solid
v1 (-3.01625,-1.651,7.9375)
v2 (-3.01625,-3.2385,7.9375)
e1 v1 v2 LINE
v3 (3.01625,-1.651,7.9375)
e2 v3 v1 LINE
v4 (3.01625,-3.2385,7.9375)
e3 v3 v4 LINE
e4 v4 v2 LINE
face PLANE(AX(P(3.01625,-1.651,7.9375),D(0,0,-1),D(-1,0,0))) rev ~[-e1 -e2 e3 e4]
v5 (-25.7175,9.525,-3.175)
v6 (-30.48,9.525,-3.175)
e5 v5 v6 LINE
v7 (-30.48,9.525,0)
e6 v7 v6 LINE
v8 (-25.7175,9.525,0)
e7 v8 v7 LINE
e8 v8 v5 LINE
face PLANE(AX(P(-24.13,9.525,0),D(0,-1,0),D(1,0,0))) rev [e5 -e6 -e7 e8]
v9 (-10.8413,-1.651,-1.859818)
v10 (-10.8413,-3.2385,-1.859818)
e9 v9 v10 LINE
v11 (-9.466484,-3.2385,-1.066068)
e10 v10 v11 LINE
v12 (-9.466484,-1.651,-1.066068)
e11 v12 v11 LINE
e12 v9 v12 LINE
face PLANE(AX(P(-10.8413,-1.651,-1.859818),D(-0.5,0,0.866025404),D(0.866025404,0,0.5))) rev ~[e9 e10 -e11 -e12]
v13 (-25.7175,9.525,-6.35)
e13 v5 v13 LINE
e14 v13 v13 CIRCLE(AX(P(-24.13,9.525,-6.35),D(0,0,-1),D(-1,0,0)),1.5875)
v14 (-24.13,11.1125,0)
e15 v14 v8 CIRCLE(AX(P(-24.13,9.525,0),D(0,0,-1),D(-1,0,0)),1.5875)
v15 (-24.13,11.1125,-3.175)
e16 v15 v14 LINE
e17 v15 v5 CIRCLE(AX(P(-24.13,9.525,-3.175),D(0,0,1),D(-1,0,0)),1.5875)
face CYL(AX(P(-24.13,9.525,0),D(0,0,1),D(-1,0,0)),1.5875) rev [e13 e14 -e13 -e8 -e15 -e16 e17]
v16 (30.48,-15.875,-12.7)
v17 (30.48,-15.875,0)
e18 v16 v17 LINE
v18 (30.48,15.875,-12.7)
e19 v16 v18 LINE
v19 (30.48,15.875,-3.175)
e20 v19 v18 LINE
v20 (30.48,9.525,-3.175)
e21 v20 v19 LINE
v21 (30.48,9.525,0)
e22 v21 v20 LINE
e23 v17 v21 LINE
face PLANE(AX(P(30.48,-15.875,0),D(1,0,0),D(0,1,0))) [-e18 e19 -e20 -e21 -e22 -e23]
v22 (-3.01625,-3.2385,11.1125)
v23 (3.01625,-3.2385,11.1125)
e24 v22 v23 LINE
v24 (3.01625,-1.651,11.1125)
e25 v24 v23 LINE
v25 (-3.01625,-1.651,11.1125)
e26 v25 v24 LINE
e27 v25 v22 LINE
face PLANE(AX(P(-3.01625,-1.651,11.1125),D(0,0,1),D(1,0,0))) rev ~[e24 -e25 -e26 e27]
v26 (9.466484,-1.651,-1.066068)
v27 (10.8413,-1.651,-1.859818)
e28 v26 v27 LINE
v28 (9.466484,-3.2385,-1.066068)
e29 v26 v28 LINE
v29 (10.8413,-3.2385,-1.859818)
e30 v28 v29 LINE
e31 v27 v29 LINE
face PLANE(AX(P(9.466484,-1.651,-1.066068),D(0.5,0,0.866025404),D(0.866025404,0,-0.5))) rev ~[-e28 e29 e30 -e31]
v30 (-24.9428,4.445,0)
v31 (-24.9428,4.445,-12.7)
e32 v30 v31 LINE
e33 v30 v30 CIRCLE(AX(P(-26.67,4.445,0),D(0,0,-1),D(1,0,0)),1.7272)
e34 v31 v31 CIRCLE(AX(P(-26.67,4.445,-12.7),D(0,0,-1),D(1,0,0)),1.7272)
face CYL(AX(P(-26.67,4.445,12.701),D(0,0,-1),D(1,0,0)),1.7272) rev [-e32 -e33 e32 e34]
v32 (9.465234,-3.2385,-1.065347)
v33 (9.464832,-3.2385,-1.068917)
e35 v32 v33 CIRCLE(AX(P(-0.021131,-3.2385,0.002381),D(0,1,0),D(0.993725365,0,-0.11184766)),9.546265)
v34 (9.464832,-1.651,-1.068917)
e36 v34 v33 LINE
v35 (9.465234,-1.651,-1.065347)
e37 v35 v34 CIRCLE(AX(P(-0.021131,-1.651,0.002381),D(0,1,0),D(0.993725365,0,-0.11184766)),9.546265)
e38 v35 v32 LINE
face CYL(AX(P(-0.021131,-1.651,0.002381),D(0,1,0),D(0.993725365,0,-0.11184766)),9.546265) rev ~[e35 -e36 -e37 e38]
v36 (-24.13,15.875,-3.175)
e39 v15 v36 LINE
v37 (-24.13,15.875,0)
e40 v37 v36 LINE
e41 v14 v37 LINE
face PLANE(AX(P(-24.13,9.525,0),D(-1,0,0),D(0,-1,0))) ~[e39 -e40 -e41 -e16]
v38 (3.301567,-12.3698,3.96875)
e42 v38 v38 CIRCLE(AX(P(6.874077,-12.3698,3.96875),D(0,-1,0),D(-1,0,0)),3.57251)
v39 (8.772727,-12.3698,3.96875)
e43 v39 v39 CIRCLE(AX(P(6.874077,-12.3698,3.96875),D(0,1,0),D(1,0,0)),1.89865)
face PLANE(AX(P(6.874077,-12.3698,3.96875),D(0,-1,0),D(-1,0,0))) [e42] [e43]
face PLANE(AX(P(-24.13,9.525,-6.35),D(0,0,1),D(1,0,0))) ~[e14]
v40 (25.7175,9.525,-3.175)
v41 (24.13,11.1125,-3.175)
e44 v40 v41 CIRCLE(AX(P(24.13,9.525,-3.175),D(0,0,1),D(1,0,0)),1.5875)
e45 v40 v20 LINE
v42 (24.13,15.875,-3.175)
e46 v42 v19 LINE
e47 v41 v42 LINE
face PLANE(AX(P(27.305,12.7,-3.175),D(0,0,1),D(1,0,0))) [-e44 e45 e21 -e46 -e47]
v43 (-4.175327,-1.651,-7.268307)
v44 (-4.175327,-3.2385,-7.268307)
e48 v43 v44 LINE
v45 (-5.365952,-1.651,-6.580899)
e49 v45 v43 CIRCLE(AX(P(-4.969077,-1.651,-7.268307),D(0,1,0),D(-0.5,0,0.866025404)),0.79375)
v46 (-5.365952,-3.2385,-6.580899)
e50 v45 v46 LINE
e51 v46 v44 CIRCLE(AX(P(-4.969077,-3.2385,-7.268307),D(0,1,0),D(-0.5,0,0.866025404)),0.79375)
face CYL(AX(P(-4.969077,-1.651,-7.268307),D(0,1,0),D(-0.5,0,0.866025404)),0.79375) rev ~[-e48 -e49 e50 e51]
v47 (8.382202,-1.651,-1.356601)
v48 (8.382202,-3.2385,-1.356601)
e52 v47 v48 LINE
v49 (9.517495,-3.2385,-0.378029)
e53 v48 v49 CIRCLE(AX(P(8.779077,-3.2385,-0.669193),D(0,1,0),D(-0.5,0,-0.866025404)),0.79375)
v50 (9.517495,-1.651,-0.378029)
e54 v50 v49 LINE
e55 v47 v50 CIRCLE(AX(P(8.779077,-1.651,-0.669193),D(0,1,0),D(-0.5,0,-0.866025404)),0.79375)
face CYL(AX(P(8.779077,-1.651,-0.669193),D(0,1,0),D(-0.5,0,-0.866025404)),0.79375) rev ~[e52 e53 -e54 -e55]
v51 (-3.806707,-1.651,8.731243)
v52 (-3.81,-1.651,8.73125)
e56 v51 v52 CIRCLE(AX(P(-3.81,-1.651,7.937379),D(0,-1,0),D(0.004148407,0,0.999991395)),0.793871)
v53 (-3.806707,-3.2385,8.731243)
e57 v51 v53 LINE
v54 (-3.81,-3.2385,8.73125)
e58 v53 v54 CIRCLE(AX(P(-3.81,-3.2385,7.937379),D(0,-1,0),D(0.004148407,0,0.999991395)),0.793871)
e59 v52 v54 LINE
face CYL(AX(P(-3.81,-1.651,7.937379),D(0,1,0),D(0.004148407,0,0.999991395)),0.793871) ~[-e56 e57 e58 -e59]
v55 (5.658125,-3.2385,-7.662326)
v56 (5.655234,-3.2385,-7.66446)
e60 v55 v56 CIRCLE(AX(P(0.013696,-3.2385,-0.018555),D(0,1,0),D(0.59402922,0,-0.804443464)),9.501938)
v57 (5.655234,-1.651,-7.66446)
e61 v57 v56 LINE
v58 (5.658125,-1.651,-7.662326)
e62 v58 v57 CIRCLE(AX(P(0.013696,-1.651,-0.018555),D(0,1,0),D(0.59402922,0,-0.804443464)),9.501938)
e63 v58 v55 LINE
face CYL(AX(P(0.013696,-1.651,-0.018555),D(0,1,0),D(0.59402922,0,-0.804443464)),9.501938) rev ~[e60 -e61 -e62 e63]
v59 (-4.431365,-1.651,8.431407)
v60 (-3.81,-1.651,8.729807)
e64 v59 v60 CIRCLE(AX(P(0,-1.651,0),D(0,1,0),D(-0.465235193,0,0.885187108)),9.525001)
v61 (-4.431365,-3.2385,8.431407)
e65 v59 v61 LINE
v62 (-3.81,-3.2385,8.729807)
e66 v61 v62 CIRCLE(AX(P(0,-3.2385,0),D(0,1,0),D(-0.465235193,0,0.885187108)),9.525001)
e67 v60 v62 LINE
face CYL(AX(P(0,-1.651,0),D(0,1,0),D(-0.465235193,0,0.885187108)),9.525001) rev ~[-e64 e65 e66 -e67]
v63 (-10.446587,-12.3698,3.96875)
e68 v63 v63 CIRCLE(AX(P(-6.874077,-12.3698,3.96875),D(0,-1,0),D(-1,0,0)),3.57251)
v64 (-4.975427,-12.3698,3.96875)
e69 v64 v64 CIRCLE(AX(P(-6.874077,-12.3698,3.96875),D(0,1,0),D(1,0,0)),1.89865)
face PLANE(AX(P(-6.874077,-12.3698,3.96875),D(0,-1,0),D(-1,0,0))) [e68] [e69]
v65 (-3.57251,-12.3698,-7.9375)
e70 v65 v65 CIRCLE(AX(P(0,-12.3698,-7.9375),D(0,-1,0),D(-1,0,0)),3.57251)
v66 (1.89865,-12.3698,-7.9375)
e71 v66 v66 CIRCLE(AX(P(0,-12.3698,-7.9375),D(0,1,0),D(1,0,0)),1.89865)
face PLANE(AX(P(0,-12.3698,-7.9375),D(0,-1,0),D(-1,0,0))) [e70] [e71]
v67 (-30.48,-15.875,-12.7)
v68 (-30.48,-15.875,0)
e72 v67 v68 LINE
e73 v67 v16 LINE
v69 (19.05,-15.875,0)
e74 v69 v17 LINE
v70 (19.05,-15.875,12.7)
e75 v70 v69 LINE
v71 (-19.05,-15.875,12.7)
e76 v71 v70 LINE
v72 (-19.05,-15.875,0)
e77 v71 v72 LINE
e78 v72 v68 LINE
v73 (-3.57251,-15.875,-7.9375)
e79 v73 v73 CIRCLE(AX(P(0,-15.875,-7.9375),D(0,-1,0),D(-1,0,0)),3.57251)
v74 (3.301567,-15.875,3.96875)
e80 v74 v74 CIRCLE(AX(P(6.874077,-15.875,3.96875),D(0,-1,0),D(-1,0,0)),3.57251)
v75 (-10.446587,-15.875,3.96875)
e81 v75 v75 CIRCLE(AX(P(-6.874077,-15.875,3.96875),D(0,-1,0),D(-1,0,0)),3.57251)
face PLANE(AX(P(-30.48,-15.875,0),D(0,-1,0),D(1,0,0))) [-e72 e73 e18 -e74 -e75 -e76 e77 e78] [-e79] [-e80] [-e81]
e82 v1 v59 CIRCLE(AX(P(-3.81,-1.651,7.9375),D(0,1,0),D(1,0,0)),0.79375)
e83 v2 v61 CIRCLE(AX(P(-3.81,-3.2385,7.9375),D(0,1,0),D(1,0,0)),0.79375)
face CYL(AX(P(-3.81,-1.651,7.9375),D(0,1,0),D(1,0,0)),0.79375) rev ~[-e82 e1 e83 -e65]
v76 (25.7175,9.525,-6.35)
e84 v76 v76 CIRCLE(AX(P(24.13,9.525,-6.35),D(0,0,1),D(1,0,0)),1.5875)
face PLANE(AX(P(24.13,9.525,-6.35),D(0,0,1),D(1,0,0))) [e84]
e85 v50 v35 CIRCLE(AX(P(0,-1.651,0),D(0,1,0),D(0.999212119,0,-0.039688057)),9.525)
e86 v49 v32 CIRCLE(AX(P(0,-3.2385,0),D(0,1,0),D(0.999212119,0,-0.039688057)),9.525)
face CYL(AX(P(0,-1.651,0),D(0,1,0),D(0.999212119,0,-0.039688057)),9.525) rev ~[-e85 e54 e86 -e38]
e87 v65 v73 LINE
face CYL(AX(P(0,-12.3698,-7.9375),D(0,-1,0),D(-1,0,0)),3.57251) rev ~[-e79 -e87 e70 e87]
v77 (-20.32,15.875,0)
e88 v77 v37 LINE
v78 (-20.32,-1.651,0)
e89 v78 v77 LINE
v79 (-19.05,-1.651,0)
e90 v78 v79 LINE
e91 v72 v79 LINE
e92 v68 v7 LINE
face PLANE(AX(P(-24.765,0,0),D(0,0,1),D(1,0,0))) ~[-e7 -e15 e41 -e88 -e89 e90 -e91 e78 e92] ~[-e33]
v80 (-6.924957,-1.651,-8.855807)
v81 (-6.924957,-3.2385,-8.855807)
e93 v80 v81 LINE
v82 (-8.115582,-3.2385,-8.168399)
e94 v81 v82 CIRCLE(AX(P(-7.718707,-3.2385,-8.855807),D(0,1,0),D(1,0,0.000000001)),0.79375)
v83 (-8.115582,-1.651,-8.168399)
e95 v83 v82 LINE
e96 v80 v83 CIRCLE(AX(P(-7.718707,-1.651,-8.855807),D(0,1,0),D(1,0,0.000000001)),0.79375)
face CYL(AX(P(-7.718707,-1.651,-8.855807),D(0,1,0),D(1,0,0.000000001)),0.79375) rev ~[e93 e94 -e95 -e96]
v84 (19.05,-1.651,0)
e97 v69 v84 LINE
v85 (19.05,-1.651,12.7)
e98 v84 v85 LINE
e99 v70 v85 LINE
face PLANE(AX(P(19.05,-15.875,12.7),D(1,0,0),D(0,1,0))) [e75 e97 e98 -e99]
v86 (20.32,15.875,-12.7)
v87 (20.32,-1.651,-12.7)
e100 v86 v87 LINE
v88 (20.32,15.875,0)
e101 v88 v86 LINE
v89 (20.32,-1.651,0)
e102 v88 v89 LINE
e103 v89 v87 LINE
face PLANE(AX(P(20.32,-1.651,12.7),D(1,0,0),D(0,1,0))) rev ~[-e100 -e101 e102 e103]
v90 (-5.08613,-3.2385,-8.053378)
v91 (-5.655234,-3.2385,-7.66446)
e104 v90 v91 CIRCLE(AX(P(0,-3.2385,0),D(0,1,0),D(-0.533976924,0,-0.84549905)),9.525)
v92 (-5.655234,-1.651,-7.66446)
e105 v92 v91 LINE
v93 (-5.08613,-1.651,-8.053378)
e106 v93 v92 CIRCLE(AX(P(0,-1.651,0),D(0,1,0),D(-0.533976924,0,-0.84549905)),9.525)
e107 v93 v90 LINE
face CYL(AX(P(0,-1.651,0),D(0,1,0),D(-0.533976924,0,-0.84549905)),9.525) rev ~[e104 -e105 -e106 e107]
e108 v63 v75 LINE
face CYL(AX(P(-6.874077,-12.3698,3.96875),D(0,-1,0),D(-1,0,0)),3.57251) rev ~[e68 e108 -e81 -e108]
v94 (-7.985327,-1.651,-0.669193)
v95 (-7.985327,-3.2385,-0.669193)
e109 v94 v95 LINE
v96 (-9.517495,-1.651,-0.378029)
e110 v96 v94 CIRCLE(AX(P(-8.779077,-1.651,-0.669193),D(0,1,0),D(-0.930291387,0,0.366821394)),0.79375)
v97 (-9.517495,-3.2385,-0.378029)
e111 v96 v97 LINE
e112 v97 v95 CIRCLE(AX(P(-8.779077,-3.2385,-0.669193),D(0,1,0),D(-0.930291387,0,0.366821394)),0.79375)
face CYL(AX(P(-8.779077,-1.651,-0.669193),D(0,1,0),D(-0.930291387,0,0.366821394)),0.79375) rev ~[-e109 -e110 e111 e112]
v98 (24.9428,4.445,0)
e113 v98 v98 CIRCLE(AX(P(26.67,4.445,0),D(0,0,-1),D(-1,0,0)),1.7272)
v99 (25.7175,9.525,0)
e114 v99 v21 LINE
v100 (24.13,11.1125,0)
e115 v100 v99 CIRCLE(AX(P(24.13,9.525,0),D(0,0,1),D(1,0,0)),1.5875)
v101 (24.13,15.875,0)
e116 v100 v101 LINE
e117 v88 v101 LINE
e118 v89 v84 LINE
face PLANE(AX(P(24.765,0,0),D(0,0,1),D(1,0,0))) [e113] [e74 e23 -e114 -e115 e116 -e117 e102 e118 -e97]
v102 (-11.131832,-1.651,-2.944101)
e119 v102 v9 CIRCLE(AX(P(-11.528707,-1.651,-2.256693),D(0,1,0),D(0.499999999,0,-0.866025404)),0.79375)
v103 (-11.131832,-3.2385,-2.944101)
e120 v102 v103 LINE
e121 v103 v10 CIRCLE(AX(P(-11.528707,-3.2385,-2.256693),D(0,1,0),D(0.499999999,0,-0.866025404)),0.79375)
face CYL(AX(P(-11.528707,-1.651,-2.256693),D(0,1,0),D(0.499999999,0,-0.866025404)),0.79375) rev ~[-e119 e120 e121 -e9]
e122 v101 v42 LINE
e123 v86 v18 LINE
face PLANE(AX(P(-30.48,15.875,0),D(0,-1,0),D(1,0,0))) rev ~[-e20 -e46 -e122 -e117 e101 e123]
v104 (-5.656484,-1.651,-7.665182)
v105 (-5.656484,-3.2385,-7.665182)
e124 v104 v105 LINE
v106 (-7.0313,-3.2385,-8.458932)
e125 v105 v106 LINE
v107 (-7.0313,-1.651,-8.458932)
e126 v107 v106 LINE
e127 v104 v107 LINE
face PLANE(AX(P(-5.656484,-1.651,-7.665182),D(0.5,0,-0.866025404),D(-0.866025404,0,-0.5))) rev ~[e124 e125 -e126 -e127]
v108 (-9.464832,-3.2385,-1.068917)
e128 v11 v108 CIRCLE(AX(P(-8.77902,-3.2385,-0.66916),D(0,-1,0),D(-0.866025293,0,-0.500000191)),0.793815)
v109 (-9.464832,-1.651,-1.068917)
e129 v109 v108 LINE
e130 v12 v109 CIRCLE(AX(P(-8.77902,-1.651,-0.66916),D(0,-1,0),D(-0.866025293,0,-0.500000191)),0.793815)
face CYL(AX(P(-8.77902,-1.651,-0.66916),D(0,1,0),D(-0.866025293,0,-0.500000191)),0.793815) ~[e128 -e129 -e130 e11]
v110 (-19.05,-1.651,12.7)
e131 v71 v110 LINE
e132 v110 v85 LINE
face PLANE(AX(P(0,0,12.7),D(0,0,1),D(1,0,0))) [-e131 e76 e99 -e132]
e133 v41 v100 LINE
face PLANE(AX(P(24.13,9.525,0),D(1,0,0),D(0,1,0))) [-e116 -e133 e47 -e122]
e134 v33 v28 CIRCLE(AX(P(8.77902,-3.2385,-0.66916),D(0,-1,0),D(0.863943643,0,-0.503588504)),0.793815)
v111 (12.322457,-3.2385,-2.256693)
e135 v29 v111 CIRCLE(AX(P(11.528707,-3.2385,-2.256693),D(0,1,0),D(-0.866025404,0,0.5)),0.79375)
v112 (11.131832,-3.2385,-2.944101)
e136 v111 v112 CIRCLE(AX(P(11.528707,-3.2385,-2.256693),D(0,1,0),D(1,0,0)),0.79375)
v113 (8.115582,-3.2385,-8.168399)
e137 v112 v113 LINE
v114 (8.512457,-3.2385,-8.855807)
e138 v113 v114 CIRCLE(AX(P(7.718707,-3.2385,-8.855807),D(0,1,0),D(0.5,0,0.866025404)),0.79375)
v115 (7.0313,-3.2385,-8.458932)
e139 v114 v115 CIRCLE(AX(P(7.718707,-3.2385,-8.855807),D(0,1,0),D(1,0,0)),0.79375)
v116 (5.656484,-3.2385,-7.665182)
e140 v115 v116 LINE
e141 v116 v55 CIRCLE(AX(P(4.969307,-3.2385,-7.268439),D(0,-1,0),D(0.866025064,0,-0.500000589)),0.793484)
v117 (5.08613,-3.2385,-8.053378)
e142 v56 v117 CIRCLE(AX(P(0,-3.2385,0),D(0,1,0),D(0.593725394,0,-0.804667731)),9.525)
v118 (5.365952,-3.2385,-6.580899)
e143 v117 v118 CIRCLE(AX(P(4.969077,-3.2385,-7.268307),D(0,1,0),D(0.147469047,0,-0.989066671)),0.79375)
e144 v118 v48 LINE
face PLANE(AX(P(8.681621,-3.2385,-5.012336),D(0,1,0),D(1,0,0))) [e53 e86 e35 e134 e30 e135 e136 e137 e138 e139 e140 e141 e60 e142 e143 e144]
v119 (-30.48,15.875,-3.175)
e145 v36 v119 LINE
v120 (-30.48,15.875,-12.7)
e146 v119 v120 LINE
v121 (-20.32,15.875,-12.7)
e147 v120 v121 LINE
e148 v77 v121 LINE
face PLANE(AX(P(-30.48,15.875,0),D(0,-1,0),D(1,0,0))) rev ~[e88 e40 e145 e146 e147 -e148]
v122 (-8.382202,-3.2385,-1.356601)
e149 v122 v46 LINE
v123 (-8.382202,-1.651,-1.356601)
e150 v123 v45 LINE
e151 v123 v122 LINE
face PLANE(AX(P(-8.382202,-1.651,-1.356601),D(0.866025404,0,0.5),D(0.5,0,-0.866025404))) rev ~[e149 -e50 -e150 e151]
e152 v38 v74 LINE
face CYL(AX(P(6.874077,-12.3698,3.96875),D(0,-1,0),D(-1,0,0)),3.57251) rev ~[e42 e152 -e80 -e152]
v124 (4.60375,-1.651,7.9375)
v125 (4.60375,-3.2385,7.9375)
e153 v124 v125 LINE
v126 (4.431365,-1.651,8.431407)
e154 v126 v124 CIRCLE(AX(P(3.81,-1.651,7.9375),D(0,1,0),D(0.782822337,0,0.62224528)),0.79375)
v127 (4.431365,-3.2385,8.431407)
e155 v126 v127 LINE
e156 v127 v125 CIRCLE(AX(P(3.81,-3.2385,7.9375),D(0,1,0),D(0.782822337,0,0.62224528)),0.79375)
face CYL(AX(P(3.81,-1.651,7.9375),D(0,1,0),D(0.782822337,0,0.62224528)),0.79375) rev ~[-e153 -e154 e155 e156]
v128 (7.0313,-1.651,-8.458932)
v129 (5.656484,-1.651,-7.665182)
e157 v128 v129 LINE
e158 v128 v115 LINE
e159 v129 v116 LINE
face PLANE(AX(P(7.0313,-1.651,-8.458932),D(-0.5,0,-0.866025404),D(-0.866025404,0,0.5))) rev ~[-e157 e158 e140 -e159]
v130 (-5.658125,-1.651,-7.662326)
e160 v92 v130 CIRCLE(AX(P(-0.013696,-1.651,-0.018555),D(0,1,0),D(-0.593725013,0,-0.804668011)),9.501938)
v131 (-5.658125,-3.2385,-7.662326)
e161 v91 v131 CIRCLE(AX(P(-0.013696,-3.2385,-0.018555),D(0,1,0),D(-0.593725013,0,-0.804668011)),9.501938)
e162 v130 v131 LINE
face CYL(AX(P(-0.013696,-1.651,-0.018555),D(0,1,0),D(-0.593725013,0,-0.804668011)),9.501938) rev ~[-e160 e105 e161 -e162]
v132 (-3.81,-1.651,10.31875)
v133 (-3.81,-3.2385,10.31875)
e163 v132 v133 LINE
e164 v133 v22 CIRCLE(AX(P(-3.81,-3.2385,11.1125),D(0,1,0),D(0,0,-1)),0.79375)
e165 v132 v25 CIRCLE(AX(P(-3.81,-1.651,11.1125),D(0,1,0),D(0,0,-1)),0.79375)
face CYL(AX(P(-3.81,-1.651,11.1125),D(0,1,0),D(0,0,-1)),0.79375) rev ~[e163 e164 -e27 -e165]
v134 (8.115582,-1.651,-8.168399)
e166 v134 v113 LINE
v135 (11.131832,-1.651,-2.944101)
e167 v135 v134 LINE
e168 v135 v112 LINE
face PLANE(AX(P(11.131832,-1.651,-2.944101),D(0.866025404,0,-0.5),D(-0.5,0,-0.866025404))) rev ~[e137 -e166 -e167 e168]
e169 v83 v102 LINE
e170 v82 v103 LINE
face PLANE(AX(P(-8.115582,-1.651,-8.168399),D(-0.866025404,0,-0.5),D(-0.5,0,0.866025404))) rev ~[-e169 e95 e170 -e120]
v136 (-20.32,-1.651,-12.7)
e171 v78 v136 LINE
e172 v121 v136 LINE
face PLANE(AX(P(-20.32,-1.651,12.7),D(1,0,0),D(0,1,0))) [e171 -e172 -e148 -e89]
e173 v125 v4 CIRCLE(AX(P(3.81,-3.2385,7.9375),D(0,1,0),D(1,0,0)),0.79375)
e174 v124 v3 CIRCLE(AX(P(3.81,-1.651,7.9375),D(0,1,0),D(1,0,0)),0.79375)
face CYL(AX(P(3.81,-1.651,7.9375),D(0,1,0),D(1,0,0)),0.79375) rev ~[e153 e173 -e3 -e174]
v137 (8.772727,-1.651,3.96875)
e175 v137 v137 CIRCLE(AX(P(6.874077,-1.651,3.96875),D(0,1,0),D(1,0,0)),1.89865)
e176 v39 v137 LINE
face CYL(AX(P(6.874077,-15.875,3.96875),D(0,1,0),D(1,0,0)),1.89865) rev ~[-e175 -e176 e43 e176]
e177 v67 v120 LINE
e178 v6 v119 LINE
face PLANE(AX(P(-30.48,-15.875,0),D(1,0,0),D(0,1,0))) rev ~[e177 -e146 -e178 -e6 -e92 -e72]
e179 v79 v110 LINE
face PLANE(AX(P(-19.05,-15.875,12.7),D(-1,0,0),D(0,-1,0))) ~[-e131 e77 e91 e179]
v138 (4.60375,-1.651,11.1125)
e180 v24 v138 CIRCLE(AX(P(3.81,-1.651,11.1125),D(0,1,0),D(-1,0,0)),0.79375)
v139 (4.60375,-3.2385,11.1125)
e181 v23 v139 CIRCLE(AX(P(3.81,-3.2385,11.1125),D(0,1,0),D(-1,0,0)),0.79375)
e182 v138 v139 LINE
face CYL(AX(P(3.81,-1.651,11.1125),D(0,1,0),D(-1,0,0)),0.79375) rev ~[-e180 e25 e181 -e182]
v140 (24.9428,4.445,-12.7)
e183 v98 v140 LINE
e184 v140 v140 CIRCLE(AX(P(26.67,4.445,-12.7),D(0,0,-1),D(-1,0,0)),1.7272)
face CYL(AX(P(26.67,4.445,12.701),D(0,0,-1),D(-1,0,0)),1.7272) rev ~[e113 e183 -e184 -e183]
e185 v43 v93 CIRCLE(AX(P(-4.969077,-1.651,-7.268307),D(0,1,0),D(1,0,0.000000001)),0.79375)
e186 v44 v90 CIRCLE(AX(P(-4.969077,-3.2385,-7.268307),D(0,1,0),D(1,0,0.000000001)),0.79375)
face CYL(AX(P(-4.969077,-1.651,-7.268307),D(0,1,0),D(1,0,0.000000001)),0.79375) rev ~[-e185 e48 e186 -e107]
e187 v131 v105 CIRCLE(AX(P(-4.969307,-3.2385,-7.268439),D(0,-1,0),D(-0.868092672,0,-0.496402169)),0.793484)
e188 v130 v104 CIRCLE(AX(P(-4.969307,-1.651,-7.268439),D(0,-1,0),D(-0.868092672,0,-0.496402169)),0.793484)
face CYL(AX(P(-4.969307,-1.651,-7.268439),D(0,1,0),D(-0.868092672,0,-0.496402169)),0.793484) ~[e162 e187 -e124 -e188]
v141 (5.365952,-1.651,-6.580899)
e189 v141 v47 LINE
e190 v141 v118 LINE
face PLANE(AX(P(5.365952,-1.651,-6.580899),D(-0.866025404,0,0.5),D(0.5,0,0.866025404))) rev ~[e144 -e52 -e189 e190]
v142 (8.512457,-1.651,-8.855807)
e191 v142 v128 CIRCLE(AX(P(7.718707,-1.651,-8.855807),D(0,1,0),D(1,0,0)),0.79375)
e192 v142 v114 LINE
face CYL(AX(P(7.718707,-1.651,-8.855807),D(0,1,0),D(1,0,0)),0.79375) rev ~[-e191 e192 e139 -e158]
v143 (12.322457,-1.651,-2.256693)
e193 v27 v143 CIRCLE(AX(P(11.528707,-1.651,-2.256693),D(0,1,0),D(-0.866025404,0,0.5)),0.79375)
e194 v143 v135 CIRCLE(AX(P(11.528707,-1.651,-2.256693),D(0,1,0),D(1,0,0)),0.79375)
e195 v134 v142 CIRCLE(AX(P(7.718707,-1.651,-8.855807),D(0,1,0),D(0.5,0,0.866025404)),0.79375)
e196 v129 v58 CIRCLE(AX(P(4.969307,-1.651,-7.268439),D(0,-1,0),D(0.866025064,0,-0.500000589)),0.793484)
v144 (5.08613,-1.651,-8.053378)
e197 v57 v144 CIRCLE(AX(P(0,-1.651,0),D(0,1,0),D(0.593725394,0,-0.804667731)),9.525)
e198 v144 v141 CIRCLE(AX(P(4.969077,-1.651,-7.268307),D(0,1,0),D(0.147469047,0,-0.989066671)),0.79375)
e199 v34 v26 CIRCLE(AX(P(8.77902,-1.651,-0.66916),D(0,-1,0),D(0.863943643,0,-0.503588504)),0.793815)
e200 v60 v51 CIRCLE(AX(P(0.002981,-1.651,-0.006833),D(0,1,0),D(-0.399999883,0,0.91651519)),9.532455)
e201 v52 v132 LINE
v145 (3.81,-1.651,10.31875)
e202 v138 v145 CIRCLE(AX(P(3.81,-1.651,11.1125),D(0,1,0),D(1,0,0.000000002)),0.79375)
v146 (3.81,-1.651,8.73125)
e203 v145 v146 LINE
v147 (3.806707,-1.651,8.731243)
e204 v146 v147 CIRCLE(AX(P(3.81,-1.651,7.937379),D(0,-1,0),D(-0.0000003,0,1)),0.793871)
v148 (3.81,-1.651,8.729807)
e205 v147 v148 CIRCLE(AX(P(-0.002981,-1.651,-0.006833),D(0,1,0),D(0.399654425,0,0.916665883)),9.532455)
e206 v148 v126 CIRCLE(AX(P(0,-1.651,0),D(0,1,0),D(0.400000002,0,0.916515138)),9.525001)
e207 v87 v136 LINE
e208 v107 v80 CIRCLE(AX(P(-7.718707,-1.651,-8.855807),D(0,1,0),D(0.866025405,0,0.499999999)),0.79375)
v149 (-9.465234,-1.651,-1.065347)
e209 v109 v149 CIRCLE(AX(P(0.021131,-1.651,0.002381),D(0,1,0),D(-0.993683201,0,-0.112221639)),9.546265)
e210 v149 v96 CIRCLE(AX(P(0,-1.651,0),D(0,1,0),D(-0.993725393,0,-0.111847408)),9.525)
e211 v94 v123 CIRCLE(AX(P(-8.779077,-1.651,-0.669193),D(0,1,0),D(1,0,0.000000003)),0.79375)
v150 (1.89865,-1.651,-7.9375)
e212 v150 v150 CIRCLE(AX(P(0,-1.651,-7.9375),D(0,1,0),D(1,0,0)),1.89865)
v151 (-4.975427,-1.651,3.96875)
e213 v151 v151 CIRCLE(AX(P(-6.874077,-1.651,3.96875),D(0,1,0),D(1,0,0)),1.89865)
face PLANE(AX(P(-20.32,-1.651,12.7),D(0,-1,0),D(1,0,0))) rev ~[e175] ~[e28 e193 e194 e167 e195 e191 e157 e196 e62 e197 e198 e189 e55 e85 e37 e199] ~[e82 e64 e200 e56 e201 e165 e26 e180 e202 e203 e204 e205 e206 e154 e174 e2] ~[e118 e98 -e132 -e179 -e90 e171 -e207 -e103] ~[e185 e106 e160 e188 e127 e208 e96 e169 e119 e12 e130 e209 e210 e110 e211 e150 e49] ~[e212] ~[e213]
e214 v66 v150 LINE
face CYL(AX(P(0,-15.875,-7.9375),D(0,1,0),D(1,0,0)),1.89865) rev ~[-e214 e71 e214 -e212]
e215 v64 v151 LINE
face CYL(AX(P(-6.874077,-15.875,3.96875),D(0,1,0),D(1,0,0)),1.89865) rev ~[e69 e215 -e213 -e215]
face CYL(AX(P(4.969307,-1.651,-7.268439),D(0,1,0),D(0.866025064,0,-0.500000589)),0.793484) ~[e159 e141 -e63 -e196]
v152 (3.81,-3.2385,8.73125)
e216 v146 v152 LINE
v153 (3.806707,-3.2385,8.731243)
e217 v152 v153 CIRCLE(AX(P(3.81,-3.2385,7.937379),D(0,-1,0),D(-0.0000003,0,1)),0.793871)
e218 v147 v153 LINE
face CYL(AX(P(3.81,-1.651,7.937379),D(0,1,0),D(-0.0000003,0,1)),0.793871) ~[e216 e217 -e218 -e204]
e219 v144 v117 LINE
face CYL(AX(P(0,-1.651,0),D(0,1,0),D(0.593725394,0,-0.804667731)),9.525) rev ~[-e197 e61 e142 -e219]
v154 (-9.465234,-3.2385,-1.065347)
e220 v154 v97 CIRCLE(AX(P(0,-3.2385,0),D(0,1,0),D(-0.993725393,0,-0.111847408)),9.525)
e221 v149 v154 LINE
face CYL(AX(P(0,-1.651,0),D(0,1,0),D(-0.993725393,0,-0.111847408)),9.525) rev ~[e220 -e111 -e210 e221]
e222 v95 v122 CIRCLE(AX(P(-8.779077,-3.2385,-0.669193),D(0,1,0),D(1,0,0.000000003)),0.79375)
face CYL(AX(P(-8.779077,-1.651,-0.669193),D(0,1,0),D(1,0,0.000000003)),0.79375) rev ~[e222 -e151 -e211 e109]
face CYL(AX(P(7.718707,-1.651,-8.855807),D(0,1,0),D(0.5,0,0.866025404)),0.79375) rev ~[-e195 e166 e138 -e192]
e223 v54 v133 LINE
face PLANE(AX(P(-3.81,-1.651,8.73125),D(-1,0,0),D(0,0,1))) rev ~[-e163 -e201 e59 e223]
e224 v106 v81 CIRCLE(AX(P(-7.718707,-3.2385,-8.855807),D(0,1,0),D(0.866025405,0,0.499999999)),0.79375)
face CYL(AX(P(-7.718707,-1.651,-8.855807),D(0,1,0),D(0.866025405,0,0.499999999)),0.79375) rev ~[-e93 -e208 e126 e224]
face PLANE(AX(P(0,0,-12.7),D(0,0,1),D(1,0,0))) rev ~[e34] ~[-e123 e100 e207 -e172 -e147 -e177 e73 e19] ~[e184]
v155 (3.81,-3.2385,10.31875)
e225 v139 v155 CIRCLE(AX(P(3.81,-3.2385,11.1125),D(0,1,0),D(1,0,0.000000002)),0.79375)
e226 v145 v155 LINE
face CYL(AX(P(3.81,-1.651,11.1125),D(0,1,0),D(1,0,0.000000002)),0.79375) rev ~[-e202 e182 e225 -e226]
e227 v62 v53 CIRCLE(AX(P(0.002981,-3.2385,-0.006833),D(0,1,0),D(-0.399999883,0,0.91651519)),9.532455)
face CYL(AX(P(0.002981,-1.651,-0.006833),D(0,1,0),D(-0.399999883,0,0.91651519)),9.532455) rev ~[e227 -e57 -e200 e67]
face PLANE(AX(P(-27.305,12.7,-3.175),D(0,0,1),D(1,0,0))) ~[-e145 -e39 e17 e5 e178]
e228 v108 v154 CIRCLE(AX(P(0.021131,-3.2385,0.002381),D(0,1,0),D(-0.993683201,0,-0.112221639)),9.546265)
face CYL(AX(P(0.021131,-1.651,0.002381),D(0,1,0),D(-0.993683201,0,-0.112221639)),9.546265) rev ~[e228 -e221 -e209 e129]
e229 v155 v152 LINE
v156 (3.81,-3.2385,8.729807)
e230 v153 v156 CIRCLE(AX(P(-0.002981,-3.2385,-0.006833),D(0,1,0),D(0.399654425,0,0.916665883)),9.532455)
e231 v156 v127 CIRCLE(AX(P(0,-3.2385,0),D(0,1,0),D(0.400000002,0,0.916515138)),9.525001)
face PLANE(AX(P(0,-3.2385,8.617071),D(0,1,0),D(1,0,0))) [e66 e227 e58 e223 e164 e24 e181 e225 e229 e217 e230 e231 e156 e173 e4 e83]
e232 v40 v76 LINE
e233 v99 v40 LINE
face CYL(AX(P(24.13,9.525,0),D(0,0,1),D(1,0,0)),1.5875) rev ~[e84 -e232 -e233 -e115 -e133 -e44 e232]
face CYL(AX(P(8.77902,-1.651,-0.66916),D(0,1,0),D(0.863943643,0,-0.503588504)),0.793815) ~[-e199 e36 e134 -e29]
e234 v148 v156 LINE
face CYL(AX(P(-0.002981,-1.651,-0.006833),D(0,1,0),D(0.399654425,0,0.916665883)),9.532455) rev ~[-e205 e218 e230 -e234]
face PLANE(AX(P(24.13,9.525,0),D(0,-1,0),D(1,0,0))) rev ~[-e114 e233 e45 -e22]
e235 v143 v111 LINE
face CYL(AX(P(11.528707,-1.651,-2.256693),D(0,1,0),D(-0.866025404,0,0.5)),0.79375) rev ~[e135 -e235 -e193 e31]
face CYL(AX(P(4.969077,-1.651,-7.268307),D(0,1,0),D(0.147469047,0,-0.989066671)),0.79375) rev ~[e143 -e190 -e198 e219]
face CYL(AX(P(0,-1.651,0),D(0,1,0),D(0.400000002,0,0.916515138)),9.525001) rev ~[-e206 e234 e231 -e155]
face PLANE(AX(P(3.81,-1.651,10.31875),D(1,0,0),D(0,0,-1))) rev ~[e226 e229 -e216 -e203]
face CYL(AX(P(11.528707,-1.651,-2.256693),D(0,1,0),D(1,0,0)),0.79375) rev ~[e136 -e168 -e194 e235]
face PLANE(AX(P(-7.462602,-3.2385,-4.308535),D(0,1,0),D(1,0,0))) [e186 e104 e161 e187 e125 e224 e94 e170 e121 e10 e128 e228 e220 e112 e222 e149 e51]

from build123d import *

# Parameters (mm, degrees)
SKETCH1_W                                      = 60.96
SKETCH1_H                                      = 31.75
BOSS_EXTRUDE1_DEPTH                            = 12.7
CUT_EXTRUDE2_REACH                             = 27.4
SKETCH4_W                                      = 40.64
SKETCH4_H                                      = 17.526
SKETCH5_W                                      = 11.43
SKETCH5_H                                      = 31.75
CUT_EXTRUDE3_DEPTH                             = 12.7
SKETCH6_W                                      = 6.35
SKETCH6_H                                      = 6.35
CUT_EXTRUDE4_DEPTH                             = 3.175
SKETCH7_R                                      = 1.5875
CUT_EXTRUDE5_DEPTH                             = 6.35
F_8_32_TAPPED_HOLE1_D                          = 3.4544
F_8_32_TAPPED_HOLE1_DEPTH                      = 12.701
CUT_EXTRUDE7_DEPTH                             = 1.5875
CBORE_FOR_6_SOCKET_HEAD_CAP_SCREW1_D           = 3.7973
CBORE_FOR_6_SOCKET_HEAD_CAP_SCREW1_CBORE_D     = 7.14502
CBORE_FOR_6_SOCKET_HEAD_CAP_SCREW1_CBORE_DEPTH = 3.5052


with BuildPart() as part:
    # Sketch1 → Boss-Extrude1 (new body, symmetric)
    with BuildSketch(Plane.XY):
        Rectangle(SKETCH1_W, SKETCH1_H)
    extrude(amount=BOSS_EXTRUDE1_DEPTH, both=True)

    # Sketch4 → Cut-Extrude2 (cut, up to next)
    with BuildSketch(Plane.XY.offset(12.7), mode=Mode.PRIVATE) as cut_extrude2_sk1:
        with Locations((0, 7.112)):
            Rectangle(SKETCH4_W, SKETCH4_H)
    cut_extrude2_tool1 = extrude(cut_extrude2_sk1.sketch, amount=-CUT_EXTRUDE2_REACH, mode=Mode.PRIVATE) & part.part
    add(cut_extrude2_tool1.solids().sort_by_distance((0, 7.112, 12.7))[0], mode=Mode.SUBTRACT)

    # Sketch5 → Cut-Extrude3 (cut)
    with BuildSketch(Plane.XY.offset(12.7)):
        with Locations((24.765, 0)):
            Rectangle(SKETCH5_W, SKETCH5_H)
    cut_extrude3 = extrude(amount=-CUT_EXTRUDE3_DEPTH, mode=Mode.SUBTRACT)

    # Mirror2: Cut-Extrude3 across plane
    add(cut_extrude3.mirror(Plane(origin=(0, 0, 0), x_dir=(0, 0, 1), z_dir=(1, 0, 0))), mode=Mode.SUBTRACT)

    # Sketch6 → Cut-Extrude4 (cut)
    with BuildSketch(Plane.XY):
        with Locations((27.305, 12.7)):
            Rectangle(SKETCH6_W, SKETCH6_H)
    cut_extrude4 = extrude(amount=-CUT_EXTRUDE4_DEPTH, mode=Mode.SUBTRACT)

    # Sketch7 → Cut-Extrude5 (cut)
    with BuildSketch(Plane.XY):
        with Locations((24.13, 9.525)):
            Circle(SKETCH7_R)
    cut_extrude5 = extrude(amount=-CUT_EXTRUDE5_DEPTH, mode=Mode.SUBTRACT)

    # #8-32 Tapped Hole1
    with Locations(Plane.XY):
        with Locations((26.67, 4.445)):
            f_8_32_tapped_hole1 = Hole(F_8_32_TAPPED_HOLE1_D / 2, depth=F_8_32_TAPPED_HOLE1_DEPTH)

    # Mirror3: Cut-Extrude4, Cut-Extrude5, #8-32 Tapped Hole1 across plane
    add(cut_extrude4.mirror(Plane(origin=(0, 0, 0), x_dir=(0, 0, 1), z_dir=(1, 0, 0))), mode=Mode.SUBTRACT)
    add(cut_extrude5.mirror(Plane(origin=(0, 0, 0), x_dir=(0, 0, 1), z_dir=(1, 0, 0))), mode=Mode.SUBTRACT)
    add(f_8_32_tapped_hole1.mirror(Plane(origin=(0, 0, 0), x_dir=(0, 0, 1), z_dir=(1, 0, 0))), mode=Mode.SUBTRACT)

    # Sketch13 → Cut-Extrude7 (cut)
    with BuildSketch(Plane(origin=(0, -1.651, 0), x_dir=(1, 0, 0), z_dir=(0, 1, 0))):
        with BuildLine():
            ThreePointArc((-3.01625, -7.9375), (-3.247570925, -8.497600525), (-3.80670694, -8.731243169))
            ThreePointArc((-3.80670694, -8.731243169), (0, -9.525), (3.80670694, -8.731243169))
            ThreePointArc((3.80670694, -8.731243169), (3.247570925, -8.497600525), (3.01625, -7.9375))
            Line((3.01625, -7.9375), (-3.01625, -7.9375))
        make_face()
        with BuildLine():
            ThreePointArc((-3.81, -10.31875), (-3.248733992, -10.551233992), (-3.01625, -11.1125))
            Line((-3.01625, -11.1125), (3.01625, -11.1125))
            ThreePointArc((3.01625, -11.1125), (3.248733992, -10.551233992), (3.81, -10.31875))
            Line((3.81, -10.31875), (3.81, -8.73125))
            ThreePointArc((3.81, -8.73125), (3.808353466, -8.731248292), (3.80670694, -8.731243169))
            ThreePointArc((3.80670694, -8.731243169), (0, -9.525), (-3.80670694, -8.731243169))
            ThreePointArc((-3.80670694, -8.731243169), (-3.808353466, -8.731248292), (-3.81, -8.73125))
            Line((-3.81, -8.73125), (-3.81, -10.31875))
        make_face()
        with BuildLine():
            ThreePointArc((-4.431365232, -8.431407189), (-4.123382809, -8.586229627), (-3.81, -8.729806699))
            Line((-3.81, -8.729806699), (-3.81, -7.9375))
            Line((-3.81, -7.9375), (-3.01625, -7.9375))
            ThreePointArc((-3.01625, -7.9375), (-4.071563004, -7.188084322), (-4.431365232, -8.431407189))
        make_face()
        with BuildLine():
            Line((-3.81, -7.9375), (-3.81, -8.729806699))
            ThreePointArc((-3.81, -8.729806699), (-3.808353538, -8.730525089), (-3.80670694, -8.731243169))
            ThreePointArc((-3.80670694, -8.731243169), (-3.247570925, -8.497600525), (-3.01625, -7.9375))
            Line((-3.01625, -7.9375), (-3.81, -7.9375))
        make_face()
        with BuildLine():
            ThreePointArc((-4.431365232, -8.431407189), (-4.123382809, -8.586229627), (-3.81, -8.729806699))
            Line((-3.81, -8.729806699), (-3.81, -7.9375))
            Line((-3.81, -7.9375), (-3.01625, -7.9375))
            ThreePointArc((-3.01625, -7.9375), (-4.071563004, -7.188084322), (-4.431365232, -8.431407189))
        make_face()
        with BuildLine():
            Line((-3.81, -7.9375), (-3.81, -8.729806699))
            ThreePointArc((-3.81, -8.729806699), (-3.808353538, -8.730525089), (-3.80670694, -8.731243169))
            ThreePointArc((-3.80670694, -8.731243169), (-3.247570925, -8.497600525), (-3.01625, -7.9375))
            Line((-3.01625, -7.9375), (-3.81, -7.9375))
        make_face()
        with BuildLine():
            Line((-3.81, -10.31875), (-3.81, -11.1125))
            Line((-3.81, -11.1125), (-3.01625, -11.1125))
            ThreePointArc((-3.01625, -11.1125), (-3.248733992, -10.551233992), (-3.81, -10.31875))
        make_face()
        with BuildLine():
            Line((-3.01625, -11.1125), (-3.81, -11.1125))
            Line((-3.81, -11.1125), (-3.81, -10.31875))
            ThreePointArc((-3.81, -10.31875), (-4.371266008, -11.673766008), (-3.01625, -11.1125))
        make_face()
        with BuildLine():
            Line((-3.81, -10.31875), (-3.81, -11.1125))
            Line((-3.81, -11.1125), (-3.01625, -11.1125))
            ThreePointArc((-3.01625, -11.1125), (-3.248733992, -10.551233992), (-3.81, -10.31875))
        make_face()
        with BuildLine():
            Line((-3.01625, -11.1125), (-3.81, -11.1125))
            Line((-3.81, -11.1125), (-3.81, -10.31875))
            ThreePointArc((-3.81, -10.31875), (-4.371266008, -11.673766008), (-3.01625, -11.1125))
        make_face()
        with BuildLine():
            ThreePointArc((3.81, -10.31875), (3.248733992, -10.551233992), (3.01625, -11.1125))
            Line((3.01625, -11.1125), (3.81, -11.1125))
            Line((3.81, -11.1125), (3.81, -10.31875))
        make_face()
        with BuildLine():
            Line((3.81, -11.1125), (3.01625, -11.1125))
            ThreePointArc((3.01625, -11.1125), (3.81, -11.90625), (4.60375, -11.1125))
            ThreePointArc((4.60375, -11.1125), (4.371266008, -10.551233992), (3.81, -10.31875))
            Line((3.81, -10.31875), (3.81, -11.1125))
        make_face()
        with BuildLine():
            ThreePointArc((3.81, -10.31875), (3.248733992, -10.551233992), (3.01625, -11.1125))
            Line((3.01625, -11.1125), (3.81, -11.1125))
            Line((3.81, -11.1125), (3.81, -10.31875))
        make_face()
        with BuildLine():
            Line((3.81, -11.1125), (3.01625, -11.1125))
            ThreePointArc((3.01625, -11.1125), (3.81, -11.90625), (4.60375, -11.1125))
            ThreePointArc((4.60375, -11.1125), (4.371266008, -10.551233992), (3.81, -10.31875))
            Line((3.81, -10.31875), (3.81, -11.1125))
        make_face()
        with BuildLine():
            ThreePointArc((3.01625, -7.9375), (3.247570925, -8.497600525), (3.80670694, -8.731243169))
            ThreePointArc((3.80670694, -8.731243169), (3.808353538, -8.730525089), (3.81, -8.729806699))
            Line((3.81, -8.729806699), (3.81, -7.9375))
            Line((3.81, -7.9375), (3.01625, -7.9375))
        make_face()
        with BuildLine():
            Line((3.81, -7.9375), (3.81, -8.729806699))
            ThreePointArc((3.81, -8.729806699), (4.123382809, -8.586229627), (4.431365232, -8.431407189))
            ThreePointArc((4.431365232, -8.431407189), (4.559415678, -8.199063004), (4.60375, -7.9375))
            ThreePointArc((4.60375, -7.9375), (3.81, -7.14375), (3.01625, -7.9375))
            Line((3.01625, -7.9375), (3.81, -7.9375))
        make_face()
        with BuildLine():
            ThreePointArc((3.01625, -7.9375), (3.247570925, -8.497600525), (3.80670694, -8.731243169))
            ThreePointArc((3.80670694, -8.731243169), (3.808353538, -8.730525089), (3.81, -8.729806699))
            Line((3.81, -8.729806699), (3.81, -7.9375))
            Line((3.81, -7.9375), (3.01625, -7.9375))
        make_face()
        with BuildLine():
            Line((3.81, -7.9375), (3.81, -8.729806699))
            ThreePointArc((3.81, -8.729806699), (4.123382809, -8.586229627), (4.431365232, -8.431407189))
            ThreePointArc((4.431365232, -8.431407189), (4.559415678, -8.199063004), (4.60375, -7.9375))
            ThreePointArc((4.60375, -7.9375), (3.81, -7.14375), (3.01625, -7.9375))
            Line((3.01625, -7.9375), (3.81, -7.9375))
        make_face()
        with BuildLine():
            ThreePointArc((9.464831861, 1.06891667), (9.465659561, 1.067493298), (9.466484307, 1.066068212))
            Line((9.466484307, 1.066068212), (10.841299635, 1.859818212))
            ThreePointArc((10.841299635, 1.859818212), (10.762003675, 2.462130829), (11.1318323, 2.944100876))
            Line((11.1318323, 2.944100876), (8.1155823, 8.168399124))
            ThreePointArc((8.1155823, 8.168399124), (7.513269683, 8.089103164), (7.031299635, 8.458931788))
            Line((7.031299635, 8.458931788), (5.656484307, 7.665181788))
            ThreePointArc((5.656484307, 7.665181788), (5.657306095, 7.663754995), (5.658124921, 7.662326499))
            ThreePointArc((5.658124921, 7.662326499), (8.248891971, 4.7625), (9.464831861, 1.06891667))
        make_face()
        with BuildLine():
            Line((5.365951643, 6.580899124), (8.382201643, 1.356600876))
            ThreePointArc((8.382201643, 1.356600876), (8.982923388, 1.436321341), (9.464831861, 1.06891667))
            ThreePointArc((9.464831861, 1.06891667), (8.248891971, 4.7625), (5.658124921, 7.662326499))
            ThreePointArc((5.658124921, 7.662326499), (5.736204772, 7.472153534), (5.762826643, 7.268306788))
            ThreePointArc((5.762826643, 7.268306788), (5.656484307, 6.871431788), (5.365951643, 6.580899124))
        make_face()
        with BuildLine():
            ThreePointArc((11.1318323, 2.944100876), (10.762003675, 2.462130829), (10.841299635, 1.859818212))
            Line((10.841299635, 1.859818212), (11.5287073, 2.256693212))
            Line((11.5287073, 2.256693212), (11.1318323, 2.944100876))
        make_face()
        with BuildLine():
            Line((11.5287073, 2.256693212), (10.841299635, 1.859818212))
            ThreePointArc((10.841299635, 1.859818212), (11.734144917, 1.489989587), (12.3224573, 2.256693212))
            ThreePointArc((12.3224573, 2.256693212), (11.9255823, 2.944100876), (11.1318323, 2.944100876))
            Line((11.1318323, 2.944100876), (11.5287073, 2.256693212))
        make_face()
        with BuildLine():
            ThreePointArc((11.1318323, 2.944100876), (10.762003675, 2.462130829), (10.841299635, 1.859818212))
            Line((10.841299635, 1.859818212), (11.5287073, 2.256693212))
            Line((11.5287073, 2.256693212), (11.1318323, 2.944100876))
        make_face()
        with BuildLine():
            Line((11.5287073, 2.256693212), (10.841299635, 1.859818212))
            ThreePointArc((10.841299635, 1.859818212), (11.734144917, 1.489989587), (12.3224573, 2.256693212))
            ThreePointArc((12.3224573, 2.256693212), (11.9255823, 2.944100876), (11.1318323, 2.944100876))
            Line((11.1318323, 2.944100876), (11.5287073, 2.256693212))
        make_face()
        with BuildLine():
            ThreePointArc((7.031299635, 8.458931788), (7.513269683, 8.089103164), (8.1155823, 8.168399124))
            Line((8.1155823, 8.168399124), (7.7187073, 8.855806788))
            Line((7.7187073, 8.855806788), (7.031299635, 8.458931788))
        make_face()
        with BuildLine():
            Line((7.7187073, 8.855806788), (8.1155823, 8.168399124))
            ThreePointArc((8.1155823, 8.168399124), (8.406114964, 8.458931788), (8.5124573, 8.855806788))
            ThreePointArc((8.5124573, 8.855806788), (7.513269683, 9.622510413), (7.031299635, 8.458931788))
            Line((7.031299635, 8.458931788), (7.7187073, 8.855806788))
        make_face()
        with BuildLine():
            ThreePointArc((7.031299635, 8.458931788), (7.513269683, 8.089103164), (8.1155823, 8.168399124))
            Line((8.1155823, 8.168399124), (7.7187073, 8.855806788))
            Line((7.7187073, 8.855806788), (7.031299635, 8.458931788))
        make_face()
        with BuildLine():
            Line((7.7187073, 8.855806788), (8.1155823, 8.168399124))
            ThreePointArc((8.1155823, 8.168399124), (8.406114964, 8.458931788), (8.5124573, 8.855806788))
            ThreePointArc((8.5124573, 8.855806788), (7.513269683, 9.622510413), (7.031299635, 8.458931788))
            Line((7.031299635, 8.458931788), (7.7187073, 8.855806788))
        make_face()
        with BuildLine():
            ThreePointArc((5.086130199, 8.053378459), (4.189282126, 7.120119155), (5.365951643, 6.580899124))
            Line((5.365951643, 6.580899124), (4.969076643, 7.268306788))
            Line((4.969076643, 7.268306788), (5.655234371, 7.664460138))
            ThreePointArc((5.655234371, 7.664460138), (5.374201575, 7.864069076), (5.086130199, 8.053378459))
        make_face()
        with BuildLine():
            Line((4.969076643, 7.268306788), (5.365951643, 6.580899124))
            ThreePointArc((5.365951643, 6.580899124), (5.656484307, 6.871431788), (5.762826643, 7.268306788))
            ThreePointArc((5.762826643, 7.268306788), (5.736204772, 7.472153534), (5.658124921, 7.662326499))
            ThreePointArc((5.658124921, 7.662326499), (5.656679747, 7.663393455), (5.655234371, 7.664460138))
            Line((5.655234371, 7.664460138), (4.969076643, 7.268306788))
        make_face()
        with BuildLine():
            ThreePointArc((5.086130199, 8.053378459), (4.189282126, 7.120119155), (5.365951643, 6.580899124))
            Line((5.365951643, 6.580899124), (4.969076643, 7.268306788))
            Line((4.969076643, 7.268306788), (5.655234371, 7.664460138))
            ThreePointArc((5.655234371, 7.664460138), (5.374201575, 7.864069076), (5.086130199, 8.053378459))
        make_face()
        with BuildLine():
            Line((4.969076643, 7.268306788), (5.365951643, 6.580899124))
            ThreePointArc((5.365951643, 6.580899124), (5.656484307, 6.871431788), (5.762826643, 7.268306788))
            ThreePointArc((5.762826643, 7.268306788), (5.736204772, 7.472153534), (5.658124921, 7.662326499))
            ThreePointArc((5.658124921, 7.662326499), (5.656679747, 7.663393455), (5.655234371, 7.664460138))
            Line((5.655234371, 7.664460138), (4.969076643, 7.268306788))
        make_face()
        with BuildLine():
            ThreePointArc((8.382201643, 1.356600876), (8.26084513, 0.067965167), (9.517495431, 0.37802873))
            ThreePointArc((9.517495431, 0.37802873), (9.497584384, 0.722160552), (9.465234371, 1.065346561))
            Line((9.465234371, 1.065346561), (8.779076643, 0.669193212))
            Line((8.779076643, 0.669193212), (8.382201643, 1.356600876))
        make_face()
        with BuildLine():
            Line((8.779076643, 0.669193212), (9.465234371, 1.065346561))
            ThreePointArc((9.465234371, 1.065346561), (9.465033284, 1.067131634), (9.464831861, 1.06891667))
            ThreePointArc((9.464831861, 1.06891667), (8.982923388, 1.436321341), (8.382201643, 1.356600876))
            Line((8.382201643, 1.356600876), (8.779076643, 0.669193212))
        make_face()
        with BuildLine():
            ThreePointArc((8.382201643, 1.356600876), (8.26084513, 0.067965167), (9.517495431, 0.37802873))
            ThreePointArc((9.517495431, 0.37802873), (9.497584384, 0.722160552), (9.465234371, 1.065346561))
            Line((9.465234371, 1.065346561), (8.779076643, 0.669193212))
            Line((8.779076643, 0.669193212), (8.382201643, 1.356600876))
        make_face()
        with BuildLine():
            Line((8.779076643, 0.669193212), (9.465234371, 1.065346561))
            ThreePointArc((9.465234371, 1.065346561), (9.465033284, 1.067131634), (9.464831861, 1.06891667))
            ThreePointArc((9.464831861, 1.06891667), (8.982923388, 1.436321341), (8.382201643, 1.356600876))
            Line((8.382201643, 1.356600876), (8.779076643, 0.669193212))
        make_face()
        with BuildLine():
            ThreePointArc((-5.658124921, 7.662326499), (-8.248891971, 4.7625), (-9.464831861, 1.06891667))
            ThreePointArc((-9.464831861, 1.06891667), (-8.982923388, 1.436321341), (-8.382201643, 1.356600876))
            Line((-8.382201643, 1.356600876), (-5.365951643, 6.580899124))
            ThreePointArc((-5.365951643, 6.580899124), (-5.735352463, 7.061279184), (-5.658124921, 7.662326499))
        make_face()
        with BuildLine():
            Line((-10.841299635, 1.859818212), (-9.466484307, 1.066068212))
            ThreePointArc((-9.466484307, 1.066068212), (-9.465659561, 1.067493298), (-9.464831861, 1.06891667))
            ThreePointArc((-9.464831861, 1.06891667), (-8.248891971, 4.7625), (-5.658124921, 7.662326499))
            ThreePointArc((-5.658124921, 7.662326499), (-5.657306095, 7.663754995), (-5.656484307, 7.665181788))
            Line((-5.656484307, 7.665181788), (-7.031299635, 8.458931788))
            ThreePointArc((-7.031299635, 8.458931788), (-7.513269683, 8.089103164), (-8.1155823, 8.168399124))
            Line((-8.1155823, 8.168399124), (-11.1318323, 2.944100876))
            ThreePointArc((-11.1318323, 2.944100876), (-10.841299635, 2.653568212), (-10.7349573, 2.256693212))
            ThreePointArc((-10.7349573, 2.256693212), (-10.762003675, 2.051255595), (-10.841299635, 1.859818212))
        make_face()
        with BuildLine():
            ThreePointArc((-5.655234371, 7.664460138), (-5.656679747, 7.663393455), (-5.658124921, 7.662326499))
            ThreePointArc((-5.658124921, 7.662326499), (-5.735352463, 7.061279184), (-5.365951643, 6.580899124))
            Line((-5.365951643, 6.580899124), (-4.969076643, 7.268306788))
            Line((-4.969076643, 7.268306788), (-5.655234371, 7.664460138))
        make_face()
        with BuildLine():
            Line((-4.969076643, 7.268306788), (-5.365951643, 6.580899124))
            ThreePointArc((-5.365951643, 6.580899124), (-4.572201643, 6.580899124), (-4.175326643, 7.268306788))
            ThreePointArc((-4.175326643, 7.268306788), (-4.45084513, 7.869534833), (-5.086130199, 8.053378459))
            ThreePointArc((-5.086130199, 8.053378459), (-5.374201575, 7.864069076), (-5.655234371, 7.664460138))
            Line((-5.655234371, 7.664460138), (-4.969076643, 7.268306788))
        make_face()
        with BuildLine():
            ThreePointArc((-5.655234371, 7.664460138), (-5.656679747, 7.663393455), (-5.658124921, 7.662326499))
            ThreePointArc((-5.658124921, 7.662326499), (-5.735352463, 7.061279184), (-5.365951643, 6.580899124))
            Line((-5.365951643, 6.580899124), (-4.969076643, 7.268306788))
            Line((-4.969076643, 7.268306788), (-5.655234371, 7.664460138))
        make_face()
        with BuildLine():
            Line((-4.969076643, 7.268306788), (-5.365951643, 6.580899124))
            ThreePointArc((-5.365951643, 6.580899124), (-4.572201643, 6.580899124), (-4.175326643, 7.268306788))
            ThreePointArc((-4.175326643, 7.268306788), (-4.45084513, 7.869534833), (-5.086130199, 8.053378459))
            ThreePointArc((-5.086130199, 8.053378459), (-5.374201575, 7.864069076), (-5.655234371, 7.664460138))
            Line((-5.655234371, 7.664460138), (-4.969076643, 7.268306788))
        make_face()
        with BuildLine():
            ThreePointArc((-9.465234371, 1.065346561), (-9.497584384, 0.722160552), (-9.517495431, 0.37802873))
            ThreePointArc((-9.517495431, 0.37802873), (-8.63088901, -0.110601305), (-7.985326643, 0.669193212))
            ThreePointArc((-7.985326643, 0.669193212), (-8.091668978, 1.066068212), (-8.382201643, 1.356600876))
            Line((-8.382201643, 1.356600876), (-8.779076643, 0.669193212))
            Line((-8.779076643, 0.669193212), (-9.465234371, 1.065346561))
        make_face()
        with BuildLine():
            ThreePointArc((-9.464831861, 1.06891667), (-9.465033284, 1.067131634), (-9.465234371, 1.065346561))
            Line((-9.465234371, 1.065346561), (-8.779076643, 0.669193212))
            Line((-8.779076643, 0.669193212), (-8.382201643, 1.356600876))
            ThreePointArc((-8.382201643, 1.356600876), (-8.982923388, 1.436321341), (-9.464831861, 1.06891667))
        make_face()
        with BuildLine():
            ThreePointArc((-9.465234371, 1.065346561), (-9.497584384, 0.722160552), (-9.517495431, 0.37802873))
            ThreePointArc((-9.517495431, 0.37802873), (-8.63088901, -0.110601305), (-7.985326643, 0.669193212))
            ThreePointArc((-7.985326643, 0.669193212), (-8.091668978, 1.066068212), (-8.382201643, 1.356600876))
            Line((-8.382201643, 1.356600876), (-8.779076643, 0.669193212))
            Line((-8.779076643, 0.669193212), (-9.465234371, 1.065346561))
        make_face()
        with BuildLine():
            ThreePointArc((-9.464831861, 1.06891667), (-9.465033284, 1.067131634), (-9.465234371, 1.065346561))
            Line((-9.465234371, 1.065346561), (-8.779076643, 0.669193212))
            Line((-8.779076643, 0.669193212), (-8.382201643, 1.356600876))
            ThreePointArc((-8.382201643, 1.356600876), (-8.982923388, 1.436321341), (-9.464831861, 1.06891667))
        make_face()
        with BuildLine():
            ThreePointArc((-11.1318323, 2.944100876), (-12.295410924, 2.051255595), (-10.841299635, 1.859818212))
            Line((-10.841299635, 1.859818212), (-11.5287073, 2.256693212))
            Line((-11.5287073, 2.256693212), (-11.1318323, 2.944100876))
        make_face()
        with BuildLine():
            Line((-11.5287073, 2.256693212), (-10.841299635, 1.859818212))
            ThreePointArc((-10.841299635, 1.859818212), (-10.762003675, 2.051255595), (-10.7349573, 2.256693212))
            ThreePointArc((-10.7349573, 2.256693212), (-10.841299635, 2.653568212), (-11.1318323, 2.944100876))
            Line((-11.1318323, 2.944100876), (-11.5287073, 2.256693212))
        make_face()
        with BuildLine():
            ThreePointArc((-11.1318323, 2.944100876), (-12.295410924, 2.051255595), (-10.841299635, 1.859818212))
            Line((-10.841299635, 1.859818212), (-11.5287073, 2.256693212))
            Line((-11.5287073, 2.256693212), (-11.1318323, 2.944100876))
        make_face()
        with BuildLine():
            Line((-11.5287073, 2.256693212), (-10.841299635, 1.859818212))
            ThreePointArc((-10.841299635, 1.859818212), (-10.762003675, 2.051255595), (-10.7349573, 2.256693212))
            ThreePointArc((-10.7349573, 2.256693212), (-10.841299635, 2.653568212), (-11.1318323, 2.944100876))
            Line((-11.1318323, 2.944100876), (-11.5287073, 2.256693212))
        make_face()
        with BuildLine():
            ThreePointArc((-6.9249573, 8.855806788), (-8.1155823, 9.543214453), (-8.1155823, 8.168399124))
            Line((-8.1155823, 8.168399124), (-7.7187073, 8.855806788))
            Line((-7.7187073, 8.855806788), (-7.031299635, 8.458931788))
            ThreePointArc((-7.031299635, 8.458931788), (-6.952003675, 8.650369171), (-6.9249573, 8.855806788))
        make_face()
        with BuildLine():
            Line((-7.7187073, 8.855806788), (-8.1155823, 8.168399124))
            ThreePointArc((-8.1155823, 8.168399124), (-7.513269683, 8.089103164), (-7.031299635, 8.458931788))
            Line((-7.031299635, 8.458931788), (-7.7187073, 8.855806788))
        make_face()
        with BuildLine():
            ThreePointArc((-6.9249573, 8.855806788), (-8.1155823, 9.543214453), (-8.1155823, 8.168399124))
            Line((-8.1155823, 8.168399124), (-7.7187073, 8.855806788))
            Line((-7.7187073, 8.855806788), (-7.031299635, 8.458931788))
            ThreePointArc((-7.031299635, 8.458931788), (-6.952003675, 8.650369171), (-6.9249573, 8.855806788))
        make_face()
        with BuildLine():
            Line((-7.7187073, 8.855806788), (-8.1155823, 8.168399124))
            ThreePointArc((-8.1155823, 8.168399124), (-7.513269683, 8.089103164), (-7.031299635, 8.458931788))
            Line((-7.031299635, 8.458931788), (-7.7187073, 8.855806788))
        make_face()
    extrude(amount=-CUT_EXTRUDE7_DEPTH, mode=Mode.SUBTRACT)

    # CBORE for #6 Socket Head Cap Screw1 (through all)
    with Locations(Plane(origin=(0, -15.875, 0), x_dir=(-1, 0, 0), z_dir=(0, -1, 0))):
        with Locations((0, 7.9375), (6.874076643, -3.96875), (-6.874076643, -3.96875)):
            CounterBoreHole(CBORE_FOR_6_SOCKET_HEAD_CAP_SCREW1_D / 2, CBORE_FOR_6_SOCKET_HEAD_CAP_SCREW1_CBORE_D / 2, CBORE_FOR_6_SOCKET_HEAD_CAP_SCREW1_CBORE_DEPTH)


solid = part.part
